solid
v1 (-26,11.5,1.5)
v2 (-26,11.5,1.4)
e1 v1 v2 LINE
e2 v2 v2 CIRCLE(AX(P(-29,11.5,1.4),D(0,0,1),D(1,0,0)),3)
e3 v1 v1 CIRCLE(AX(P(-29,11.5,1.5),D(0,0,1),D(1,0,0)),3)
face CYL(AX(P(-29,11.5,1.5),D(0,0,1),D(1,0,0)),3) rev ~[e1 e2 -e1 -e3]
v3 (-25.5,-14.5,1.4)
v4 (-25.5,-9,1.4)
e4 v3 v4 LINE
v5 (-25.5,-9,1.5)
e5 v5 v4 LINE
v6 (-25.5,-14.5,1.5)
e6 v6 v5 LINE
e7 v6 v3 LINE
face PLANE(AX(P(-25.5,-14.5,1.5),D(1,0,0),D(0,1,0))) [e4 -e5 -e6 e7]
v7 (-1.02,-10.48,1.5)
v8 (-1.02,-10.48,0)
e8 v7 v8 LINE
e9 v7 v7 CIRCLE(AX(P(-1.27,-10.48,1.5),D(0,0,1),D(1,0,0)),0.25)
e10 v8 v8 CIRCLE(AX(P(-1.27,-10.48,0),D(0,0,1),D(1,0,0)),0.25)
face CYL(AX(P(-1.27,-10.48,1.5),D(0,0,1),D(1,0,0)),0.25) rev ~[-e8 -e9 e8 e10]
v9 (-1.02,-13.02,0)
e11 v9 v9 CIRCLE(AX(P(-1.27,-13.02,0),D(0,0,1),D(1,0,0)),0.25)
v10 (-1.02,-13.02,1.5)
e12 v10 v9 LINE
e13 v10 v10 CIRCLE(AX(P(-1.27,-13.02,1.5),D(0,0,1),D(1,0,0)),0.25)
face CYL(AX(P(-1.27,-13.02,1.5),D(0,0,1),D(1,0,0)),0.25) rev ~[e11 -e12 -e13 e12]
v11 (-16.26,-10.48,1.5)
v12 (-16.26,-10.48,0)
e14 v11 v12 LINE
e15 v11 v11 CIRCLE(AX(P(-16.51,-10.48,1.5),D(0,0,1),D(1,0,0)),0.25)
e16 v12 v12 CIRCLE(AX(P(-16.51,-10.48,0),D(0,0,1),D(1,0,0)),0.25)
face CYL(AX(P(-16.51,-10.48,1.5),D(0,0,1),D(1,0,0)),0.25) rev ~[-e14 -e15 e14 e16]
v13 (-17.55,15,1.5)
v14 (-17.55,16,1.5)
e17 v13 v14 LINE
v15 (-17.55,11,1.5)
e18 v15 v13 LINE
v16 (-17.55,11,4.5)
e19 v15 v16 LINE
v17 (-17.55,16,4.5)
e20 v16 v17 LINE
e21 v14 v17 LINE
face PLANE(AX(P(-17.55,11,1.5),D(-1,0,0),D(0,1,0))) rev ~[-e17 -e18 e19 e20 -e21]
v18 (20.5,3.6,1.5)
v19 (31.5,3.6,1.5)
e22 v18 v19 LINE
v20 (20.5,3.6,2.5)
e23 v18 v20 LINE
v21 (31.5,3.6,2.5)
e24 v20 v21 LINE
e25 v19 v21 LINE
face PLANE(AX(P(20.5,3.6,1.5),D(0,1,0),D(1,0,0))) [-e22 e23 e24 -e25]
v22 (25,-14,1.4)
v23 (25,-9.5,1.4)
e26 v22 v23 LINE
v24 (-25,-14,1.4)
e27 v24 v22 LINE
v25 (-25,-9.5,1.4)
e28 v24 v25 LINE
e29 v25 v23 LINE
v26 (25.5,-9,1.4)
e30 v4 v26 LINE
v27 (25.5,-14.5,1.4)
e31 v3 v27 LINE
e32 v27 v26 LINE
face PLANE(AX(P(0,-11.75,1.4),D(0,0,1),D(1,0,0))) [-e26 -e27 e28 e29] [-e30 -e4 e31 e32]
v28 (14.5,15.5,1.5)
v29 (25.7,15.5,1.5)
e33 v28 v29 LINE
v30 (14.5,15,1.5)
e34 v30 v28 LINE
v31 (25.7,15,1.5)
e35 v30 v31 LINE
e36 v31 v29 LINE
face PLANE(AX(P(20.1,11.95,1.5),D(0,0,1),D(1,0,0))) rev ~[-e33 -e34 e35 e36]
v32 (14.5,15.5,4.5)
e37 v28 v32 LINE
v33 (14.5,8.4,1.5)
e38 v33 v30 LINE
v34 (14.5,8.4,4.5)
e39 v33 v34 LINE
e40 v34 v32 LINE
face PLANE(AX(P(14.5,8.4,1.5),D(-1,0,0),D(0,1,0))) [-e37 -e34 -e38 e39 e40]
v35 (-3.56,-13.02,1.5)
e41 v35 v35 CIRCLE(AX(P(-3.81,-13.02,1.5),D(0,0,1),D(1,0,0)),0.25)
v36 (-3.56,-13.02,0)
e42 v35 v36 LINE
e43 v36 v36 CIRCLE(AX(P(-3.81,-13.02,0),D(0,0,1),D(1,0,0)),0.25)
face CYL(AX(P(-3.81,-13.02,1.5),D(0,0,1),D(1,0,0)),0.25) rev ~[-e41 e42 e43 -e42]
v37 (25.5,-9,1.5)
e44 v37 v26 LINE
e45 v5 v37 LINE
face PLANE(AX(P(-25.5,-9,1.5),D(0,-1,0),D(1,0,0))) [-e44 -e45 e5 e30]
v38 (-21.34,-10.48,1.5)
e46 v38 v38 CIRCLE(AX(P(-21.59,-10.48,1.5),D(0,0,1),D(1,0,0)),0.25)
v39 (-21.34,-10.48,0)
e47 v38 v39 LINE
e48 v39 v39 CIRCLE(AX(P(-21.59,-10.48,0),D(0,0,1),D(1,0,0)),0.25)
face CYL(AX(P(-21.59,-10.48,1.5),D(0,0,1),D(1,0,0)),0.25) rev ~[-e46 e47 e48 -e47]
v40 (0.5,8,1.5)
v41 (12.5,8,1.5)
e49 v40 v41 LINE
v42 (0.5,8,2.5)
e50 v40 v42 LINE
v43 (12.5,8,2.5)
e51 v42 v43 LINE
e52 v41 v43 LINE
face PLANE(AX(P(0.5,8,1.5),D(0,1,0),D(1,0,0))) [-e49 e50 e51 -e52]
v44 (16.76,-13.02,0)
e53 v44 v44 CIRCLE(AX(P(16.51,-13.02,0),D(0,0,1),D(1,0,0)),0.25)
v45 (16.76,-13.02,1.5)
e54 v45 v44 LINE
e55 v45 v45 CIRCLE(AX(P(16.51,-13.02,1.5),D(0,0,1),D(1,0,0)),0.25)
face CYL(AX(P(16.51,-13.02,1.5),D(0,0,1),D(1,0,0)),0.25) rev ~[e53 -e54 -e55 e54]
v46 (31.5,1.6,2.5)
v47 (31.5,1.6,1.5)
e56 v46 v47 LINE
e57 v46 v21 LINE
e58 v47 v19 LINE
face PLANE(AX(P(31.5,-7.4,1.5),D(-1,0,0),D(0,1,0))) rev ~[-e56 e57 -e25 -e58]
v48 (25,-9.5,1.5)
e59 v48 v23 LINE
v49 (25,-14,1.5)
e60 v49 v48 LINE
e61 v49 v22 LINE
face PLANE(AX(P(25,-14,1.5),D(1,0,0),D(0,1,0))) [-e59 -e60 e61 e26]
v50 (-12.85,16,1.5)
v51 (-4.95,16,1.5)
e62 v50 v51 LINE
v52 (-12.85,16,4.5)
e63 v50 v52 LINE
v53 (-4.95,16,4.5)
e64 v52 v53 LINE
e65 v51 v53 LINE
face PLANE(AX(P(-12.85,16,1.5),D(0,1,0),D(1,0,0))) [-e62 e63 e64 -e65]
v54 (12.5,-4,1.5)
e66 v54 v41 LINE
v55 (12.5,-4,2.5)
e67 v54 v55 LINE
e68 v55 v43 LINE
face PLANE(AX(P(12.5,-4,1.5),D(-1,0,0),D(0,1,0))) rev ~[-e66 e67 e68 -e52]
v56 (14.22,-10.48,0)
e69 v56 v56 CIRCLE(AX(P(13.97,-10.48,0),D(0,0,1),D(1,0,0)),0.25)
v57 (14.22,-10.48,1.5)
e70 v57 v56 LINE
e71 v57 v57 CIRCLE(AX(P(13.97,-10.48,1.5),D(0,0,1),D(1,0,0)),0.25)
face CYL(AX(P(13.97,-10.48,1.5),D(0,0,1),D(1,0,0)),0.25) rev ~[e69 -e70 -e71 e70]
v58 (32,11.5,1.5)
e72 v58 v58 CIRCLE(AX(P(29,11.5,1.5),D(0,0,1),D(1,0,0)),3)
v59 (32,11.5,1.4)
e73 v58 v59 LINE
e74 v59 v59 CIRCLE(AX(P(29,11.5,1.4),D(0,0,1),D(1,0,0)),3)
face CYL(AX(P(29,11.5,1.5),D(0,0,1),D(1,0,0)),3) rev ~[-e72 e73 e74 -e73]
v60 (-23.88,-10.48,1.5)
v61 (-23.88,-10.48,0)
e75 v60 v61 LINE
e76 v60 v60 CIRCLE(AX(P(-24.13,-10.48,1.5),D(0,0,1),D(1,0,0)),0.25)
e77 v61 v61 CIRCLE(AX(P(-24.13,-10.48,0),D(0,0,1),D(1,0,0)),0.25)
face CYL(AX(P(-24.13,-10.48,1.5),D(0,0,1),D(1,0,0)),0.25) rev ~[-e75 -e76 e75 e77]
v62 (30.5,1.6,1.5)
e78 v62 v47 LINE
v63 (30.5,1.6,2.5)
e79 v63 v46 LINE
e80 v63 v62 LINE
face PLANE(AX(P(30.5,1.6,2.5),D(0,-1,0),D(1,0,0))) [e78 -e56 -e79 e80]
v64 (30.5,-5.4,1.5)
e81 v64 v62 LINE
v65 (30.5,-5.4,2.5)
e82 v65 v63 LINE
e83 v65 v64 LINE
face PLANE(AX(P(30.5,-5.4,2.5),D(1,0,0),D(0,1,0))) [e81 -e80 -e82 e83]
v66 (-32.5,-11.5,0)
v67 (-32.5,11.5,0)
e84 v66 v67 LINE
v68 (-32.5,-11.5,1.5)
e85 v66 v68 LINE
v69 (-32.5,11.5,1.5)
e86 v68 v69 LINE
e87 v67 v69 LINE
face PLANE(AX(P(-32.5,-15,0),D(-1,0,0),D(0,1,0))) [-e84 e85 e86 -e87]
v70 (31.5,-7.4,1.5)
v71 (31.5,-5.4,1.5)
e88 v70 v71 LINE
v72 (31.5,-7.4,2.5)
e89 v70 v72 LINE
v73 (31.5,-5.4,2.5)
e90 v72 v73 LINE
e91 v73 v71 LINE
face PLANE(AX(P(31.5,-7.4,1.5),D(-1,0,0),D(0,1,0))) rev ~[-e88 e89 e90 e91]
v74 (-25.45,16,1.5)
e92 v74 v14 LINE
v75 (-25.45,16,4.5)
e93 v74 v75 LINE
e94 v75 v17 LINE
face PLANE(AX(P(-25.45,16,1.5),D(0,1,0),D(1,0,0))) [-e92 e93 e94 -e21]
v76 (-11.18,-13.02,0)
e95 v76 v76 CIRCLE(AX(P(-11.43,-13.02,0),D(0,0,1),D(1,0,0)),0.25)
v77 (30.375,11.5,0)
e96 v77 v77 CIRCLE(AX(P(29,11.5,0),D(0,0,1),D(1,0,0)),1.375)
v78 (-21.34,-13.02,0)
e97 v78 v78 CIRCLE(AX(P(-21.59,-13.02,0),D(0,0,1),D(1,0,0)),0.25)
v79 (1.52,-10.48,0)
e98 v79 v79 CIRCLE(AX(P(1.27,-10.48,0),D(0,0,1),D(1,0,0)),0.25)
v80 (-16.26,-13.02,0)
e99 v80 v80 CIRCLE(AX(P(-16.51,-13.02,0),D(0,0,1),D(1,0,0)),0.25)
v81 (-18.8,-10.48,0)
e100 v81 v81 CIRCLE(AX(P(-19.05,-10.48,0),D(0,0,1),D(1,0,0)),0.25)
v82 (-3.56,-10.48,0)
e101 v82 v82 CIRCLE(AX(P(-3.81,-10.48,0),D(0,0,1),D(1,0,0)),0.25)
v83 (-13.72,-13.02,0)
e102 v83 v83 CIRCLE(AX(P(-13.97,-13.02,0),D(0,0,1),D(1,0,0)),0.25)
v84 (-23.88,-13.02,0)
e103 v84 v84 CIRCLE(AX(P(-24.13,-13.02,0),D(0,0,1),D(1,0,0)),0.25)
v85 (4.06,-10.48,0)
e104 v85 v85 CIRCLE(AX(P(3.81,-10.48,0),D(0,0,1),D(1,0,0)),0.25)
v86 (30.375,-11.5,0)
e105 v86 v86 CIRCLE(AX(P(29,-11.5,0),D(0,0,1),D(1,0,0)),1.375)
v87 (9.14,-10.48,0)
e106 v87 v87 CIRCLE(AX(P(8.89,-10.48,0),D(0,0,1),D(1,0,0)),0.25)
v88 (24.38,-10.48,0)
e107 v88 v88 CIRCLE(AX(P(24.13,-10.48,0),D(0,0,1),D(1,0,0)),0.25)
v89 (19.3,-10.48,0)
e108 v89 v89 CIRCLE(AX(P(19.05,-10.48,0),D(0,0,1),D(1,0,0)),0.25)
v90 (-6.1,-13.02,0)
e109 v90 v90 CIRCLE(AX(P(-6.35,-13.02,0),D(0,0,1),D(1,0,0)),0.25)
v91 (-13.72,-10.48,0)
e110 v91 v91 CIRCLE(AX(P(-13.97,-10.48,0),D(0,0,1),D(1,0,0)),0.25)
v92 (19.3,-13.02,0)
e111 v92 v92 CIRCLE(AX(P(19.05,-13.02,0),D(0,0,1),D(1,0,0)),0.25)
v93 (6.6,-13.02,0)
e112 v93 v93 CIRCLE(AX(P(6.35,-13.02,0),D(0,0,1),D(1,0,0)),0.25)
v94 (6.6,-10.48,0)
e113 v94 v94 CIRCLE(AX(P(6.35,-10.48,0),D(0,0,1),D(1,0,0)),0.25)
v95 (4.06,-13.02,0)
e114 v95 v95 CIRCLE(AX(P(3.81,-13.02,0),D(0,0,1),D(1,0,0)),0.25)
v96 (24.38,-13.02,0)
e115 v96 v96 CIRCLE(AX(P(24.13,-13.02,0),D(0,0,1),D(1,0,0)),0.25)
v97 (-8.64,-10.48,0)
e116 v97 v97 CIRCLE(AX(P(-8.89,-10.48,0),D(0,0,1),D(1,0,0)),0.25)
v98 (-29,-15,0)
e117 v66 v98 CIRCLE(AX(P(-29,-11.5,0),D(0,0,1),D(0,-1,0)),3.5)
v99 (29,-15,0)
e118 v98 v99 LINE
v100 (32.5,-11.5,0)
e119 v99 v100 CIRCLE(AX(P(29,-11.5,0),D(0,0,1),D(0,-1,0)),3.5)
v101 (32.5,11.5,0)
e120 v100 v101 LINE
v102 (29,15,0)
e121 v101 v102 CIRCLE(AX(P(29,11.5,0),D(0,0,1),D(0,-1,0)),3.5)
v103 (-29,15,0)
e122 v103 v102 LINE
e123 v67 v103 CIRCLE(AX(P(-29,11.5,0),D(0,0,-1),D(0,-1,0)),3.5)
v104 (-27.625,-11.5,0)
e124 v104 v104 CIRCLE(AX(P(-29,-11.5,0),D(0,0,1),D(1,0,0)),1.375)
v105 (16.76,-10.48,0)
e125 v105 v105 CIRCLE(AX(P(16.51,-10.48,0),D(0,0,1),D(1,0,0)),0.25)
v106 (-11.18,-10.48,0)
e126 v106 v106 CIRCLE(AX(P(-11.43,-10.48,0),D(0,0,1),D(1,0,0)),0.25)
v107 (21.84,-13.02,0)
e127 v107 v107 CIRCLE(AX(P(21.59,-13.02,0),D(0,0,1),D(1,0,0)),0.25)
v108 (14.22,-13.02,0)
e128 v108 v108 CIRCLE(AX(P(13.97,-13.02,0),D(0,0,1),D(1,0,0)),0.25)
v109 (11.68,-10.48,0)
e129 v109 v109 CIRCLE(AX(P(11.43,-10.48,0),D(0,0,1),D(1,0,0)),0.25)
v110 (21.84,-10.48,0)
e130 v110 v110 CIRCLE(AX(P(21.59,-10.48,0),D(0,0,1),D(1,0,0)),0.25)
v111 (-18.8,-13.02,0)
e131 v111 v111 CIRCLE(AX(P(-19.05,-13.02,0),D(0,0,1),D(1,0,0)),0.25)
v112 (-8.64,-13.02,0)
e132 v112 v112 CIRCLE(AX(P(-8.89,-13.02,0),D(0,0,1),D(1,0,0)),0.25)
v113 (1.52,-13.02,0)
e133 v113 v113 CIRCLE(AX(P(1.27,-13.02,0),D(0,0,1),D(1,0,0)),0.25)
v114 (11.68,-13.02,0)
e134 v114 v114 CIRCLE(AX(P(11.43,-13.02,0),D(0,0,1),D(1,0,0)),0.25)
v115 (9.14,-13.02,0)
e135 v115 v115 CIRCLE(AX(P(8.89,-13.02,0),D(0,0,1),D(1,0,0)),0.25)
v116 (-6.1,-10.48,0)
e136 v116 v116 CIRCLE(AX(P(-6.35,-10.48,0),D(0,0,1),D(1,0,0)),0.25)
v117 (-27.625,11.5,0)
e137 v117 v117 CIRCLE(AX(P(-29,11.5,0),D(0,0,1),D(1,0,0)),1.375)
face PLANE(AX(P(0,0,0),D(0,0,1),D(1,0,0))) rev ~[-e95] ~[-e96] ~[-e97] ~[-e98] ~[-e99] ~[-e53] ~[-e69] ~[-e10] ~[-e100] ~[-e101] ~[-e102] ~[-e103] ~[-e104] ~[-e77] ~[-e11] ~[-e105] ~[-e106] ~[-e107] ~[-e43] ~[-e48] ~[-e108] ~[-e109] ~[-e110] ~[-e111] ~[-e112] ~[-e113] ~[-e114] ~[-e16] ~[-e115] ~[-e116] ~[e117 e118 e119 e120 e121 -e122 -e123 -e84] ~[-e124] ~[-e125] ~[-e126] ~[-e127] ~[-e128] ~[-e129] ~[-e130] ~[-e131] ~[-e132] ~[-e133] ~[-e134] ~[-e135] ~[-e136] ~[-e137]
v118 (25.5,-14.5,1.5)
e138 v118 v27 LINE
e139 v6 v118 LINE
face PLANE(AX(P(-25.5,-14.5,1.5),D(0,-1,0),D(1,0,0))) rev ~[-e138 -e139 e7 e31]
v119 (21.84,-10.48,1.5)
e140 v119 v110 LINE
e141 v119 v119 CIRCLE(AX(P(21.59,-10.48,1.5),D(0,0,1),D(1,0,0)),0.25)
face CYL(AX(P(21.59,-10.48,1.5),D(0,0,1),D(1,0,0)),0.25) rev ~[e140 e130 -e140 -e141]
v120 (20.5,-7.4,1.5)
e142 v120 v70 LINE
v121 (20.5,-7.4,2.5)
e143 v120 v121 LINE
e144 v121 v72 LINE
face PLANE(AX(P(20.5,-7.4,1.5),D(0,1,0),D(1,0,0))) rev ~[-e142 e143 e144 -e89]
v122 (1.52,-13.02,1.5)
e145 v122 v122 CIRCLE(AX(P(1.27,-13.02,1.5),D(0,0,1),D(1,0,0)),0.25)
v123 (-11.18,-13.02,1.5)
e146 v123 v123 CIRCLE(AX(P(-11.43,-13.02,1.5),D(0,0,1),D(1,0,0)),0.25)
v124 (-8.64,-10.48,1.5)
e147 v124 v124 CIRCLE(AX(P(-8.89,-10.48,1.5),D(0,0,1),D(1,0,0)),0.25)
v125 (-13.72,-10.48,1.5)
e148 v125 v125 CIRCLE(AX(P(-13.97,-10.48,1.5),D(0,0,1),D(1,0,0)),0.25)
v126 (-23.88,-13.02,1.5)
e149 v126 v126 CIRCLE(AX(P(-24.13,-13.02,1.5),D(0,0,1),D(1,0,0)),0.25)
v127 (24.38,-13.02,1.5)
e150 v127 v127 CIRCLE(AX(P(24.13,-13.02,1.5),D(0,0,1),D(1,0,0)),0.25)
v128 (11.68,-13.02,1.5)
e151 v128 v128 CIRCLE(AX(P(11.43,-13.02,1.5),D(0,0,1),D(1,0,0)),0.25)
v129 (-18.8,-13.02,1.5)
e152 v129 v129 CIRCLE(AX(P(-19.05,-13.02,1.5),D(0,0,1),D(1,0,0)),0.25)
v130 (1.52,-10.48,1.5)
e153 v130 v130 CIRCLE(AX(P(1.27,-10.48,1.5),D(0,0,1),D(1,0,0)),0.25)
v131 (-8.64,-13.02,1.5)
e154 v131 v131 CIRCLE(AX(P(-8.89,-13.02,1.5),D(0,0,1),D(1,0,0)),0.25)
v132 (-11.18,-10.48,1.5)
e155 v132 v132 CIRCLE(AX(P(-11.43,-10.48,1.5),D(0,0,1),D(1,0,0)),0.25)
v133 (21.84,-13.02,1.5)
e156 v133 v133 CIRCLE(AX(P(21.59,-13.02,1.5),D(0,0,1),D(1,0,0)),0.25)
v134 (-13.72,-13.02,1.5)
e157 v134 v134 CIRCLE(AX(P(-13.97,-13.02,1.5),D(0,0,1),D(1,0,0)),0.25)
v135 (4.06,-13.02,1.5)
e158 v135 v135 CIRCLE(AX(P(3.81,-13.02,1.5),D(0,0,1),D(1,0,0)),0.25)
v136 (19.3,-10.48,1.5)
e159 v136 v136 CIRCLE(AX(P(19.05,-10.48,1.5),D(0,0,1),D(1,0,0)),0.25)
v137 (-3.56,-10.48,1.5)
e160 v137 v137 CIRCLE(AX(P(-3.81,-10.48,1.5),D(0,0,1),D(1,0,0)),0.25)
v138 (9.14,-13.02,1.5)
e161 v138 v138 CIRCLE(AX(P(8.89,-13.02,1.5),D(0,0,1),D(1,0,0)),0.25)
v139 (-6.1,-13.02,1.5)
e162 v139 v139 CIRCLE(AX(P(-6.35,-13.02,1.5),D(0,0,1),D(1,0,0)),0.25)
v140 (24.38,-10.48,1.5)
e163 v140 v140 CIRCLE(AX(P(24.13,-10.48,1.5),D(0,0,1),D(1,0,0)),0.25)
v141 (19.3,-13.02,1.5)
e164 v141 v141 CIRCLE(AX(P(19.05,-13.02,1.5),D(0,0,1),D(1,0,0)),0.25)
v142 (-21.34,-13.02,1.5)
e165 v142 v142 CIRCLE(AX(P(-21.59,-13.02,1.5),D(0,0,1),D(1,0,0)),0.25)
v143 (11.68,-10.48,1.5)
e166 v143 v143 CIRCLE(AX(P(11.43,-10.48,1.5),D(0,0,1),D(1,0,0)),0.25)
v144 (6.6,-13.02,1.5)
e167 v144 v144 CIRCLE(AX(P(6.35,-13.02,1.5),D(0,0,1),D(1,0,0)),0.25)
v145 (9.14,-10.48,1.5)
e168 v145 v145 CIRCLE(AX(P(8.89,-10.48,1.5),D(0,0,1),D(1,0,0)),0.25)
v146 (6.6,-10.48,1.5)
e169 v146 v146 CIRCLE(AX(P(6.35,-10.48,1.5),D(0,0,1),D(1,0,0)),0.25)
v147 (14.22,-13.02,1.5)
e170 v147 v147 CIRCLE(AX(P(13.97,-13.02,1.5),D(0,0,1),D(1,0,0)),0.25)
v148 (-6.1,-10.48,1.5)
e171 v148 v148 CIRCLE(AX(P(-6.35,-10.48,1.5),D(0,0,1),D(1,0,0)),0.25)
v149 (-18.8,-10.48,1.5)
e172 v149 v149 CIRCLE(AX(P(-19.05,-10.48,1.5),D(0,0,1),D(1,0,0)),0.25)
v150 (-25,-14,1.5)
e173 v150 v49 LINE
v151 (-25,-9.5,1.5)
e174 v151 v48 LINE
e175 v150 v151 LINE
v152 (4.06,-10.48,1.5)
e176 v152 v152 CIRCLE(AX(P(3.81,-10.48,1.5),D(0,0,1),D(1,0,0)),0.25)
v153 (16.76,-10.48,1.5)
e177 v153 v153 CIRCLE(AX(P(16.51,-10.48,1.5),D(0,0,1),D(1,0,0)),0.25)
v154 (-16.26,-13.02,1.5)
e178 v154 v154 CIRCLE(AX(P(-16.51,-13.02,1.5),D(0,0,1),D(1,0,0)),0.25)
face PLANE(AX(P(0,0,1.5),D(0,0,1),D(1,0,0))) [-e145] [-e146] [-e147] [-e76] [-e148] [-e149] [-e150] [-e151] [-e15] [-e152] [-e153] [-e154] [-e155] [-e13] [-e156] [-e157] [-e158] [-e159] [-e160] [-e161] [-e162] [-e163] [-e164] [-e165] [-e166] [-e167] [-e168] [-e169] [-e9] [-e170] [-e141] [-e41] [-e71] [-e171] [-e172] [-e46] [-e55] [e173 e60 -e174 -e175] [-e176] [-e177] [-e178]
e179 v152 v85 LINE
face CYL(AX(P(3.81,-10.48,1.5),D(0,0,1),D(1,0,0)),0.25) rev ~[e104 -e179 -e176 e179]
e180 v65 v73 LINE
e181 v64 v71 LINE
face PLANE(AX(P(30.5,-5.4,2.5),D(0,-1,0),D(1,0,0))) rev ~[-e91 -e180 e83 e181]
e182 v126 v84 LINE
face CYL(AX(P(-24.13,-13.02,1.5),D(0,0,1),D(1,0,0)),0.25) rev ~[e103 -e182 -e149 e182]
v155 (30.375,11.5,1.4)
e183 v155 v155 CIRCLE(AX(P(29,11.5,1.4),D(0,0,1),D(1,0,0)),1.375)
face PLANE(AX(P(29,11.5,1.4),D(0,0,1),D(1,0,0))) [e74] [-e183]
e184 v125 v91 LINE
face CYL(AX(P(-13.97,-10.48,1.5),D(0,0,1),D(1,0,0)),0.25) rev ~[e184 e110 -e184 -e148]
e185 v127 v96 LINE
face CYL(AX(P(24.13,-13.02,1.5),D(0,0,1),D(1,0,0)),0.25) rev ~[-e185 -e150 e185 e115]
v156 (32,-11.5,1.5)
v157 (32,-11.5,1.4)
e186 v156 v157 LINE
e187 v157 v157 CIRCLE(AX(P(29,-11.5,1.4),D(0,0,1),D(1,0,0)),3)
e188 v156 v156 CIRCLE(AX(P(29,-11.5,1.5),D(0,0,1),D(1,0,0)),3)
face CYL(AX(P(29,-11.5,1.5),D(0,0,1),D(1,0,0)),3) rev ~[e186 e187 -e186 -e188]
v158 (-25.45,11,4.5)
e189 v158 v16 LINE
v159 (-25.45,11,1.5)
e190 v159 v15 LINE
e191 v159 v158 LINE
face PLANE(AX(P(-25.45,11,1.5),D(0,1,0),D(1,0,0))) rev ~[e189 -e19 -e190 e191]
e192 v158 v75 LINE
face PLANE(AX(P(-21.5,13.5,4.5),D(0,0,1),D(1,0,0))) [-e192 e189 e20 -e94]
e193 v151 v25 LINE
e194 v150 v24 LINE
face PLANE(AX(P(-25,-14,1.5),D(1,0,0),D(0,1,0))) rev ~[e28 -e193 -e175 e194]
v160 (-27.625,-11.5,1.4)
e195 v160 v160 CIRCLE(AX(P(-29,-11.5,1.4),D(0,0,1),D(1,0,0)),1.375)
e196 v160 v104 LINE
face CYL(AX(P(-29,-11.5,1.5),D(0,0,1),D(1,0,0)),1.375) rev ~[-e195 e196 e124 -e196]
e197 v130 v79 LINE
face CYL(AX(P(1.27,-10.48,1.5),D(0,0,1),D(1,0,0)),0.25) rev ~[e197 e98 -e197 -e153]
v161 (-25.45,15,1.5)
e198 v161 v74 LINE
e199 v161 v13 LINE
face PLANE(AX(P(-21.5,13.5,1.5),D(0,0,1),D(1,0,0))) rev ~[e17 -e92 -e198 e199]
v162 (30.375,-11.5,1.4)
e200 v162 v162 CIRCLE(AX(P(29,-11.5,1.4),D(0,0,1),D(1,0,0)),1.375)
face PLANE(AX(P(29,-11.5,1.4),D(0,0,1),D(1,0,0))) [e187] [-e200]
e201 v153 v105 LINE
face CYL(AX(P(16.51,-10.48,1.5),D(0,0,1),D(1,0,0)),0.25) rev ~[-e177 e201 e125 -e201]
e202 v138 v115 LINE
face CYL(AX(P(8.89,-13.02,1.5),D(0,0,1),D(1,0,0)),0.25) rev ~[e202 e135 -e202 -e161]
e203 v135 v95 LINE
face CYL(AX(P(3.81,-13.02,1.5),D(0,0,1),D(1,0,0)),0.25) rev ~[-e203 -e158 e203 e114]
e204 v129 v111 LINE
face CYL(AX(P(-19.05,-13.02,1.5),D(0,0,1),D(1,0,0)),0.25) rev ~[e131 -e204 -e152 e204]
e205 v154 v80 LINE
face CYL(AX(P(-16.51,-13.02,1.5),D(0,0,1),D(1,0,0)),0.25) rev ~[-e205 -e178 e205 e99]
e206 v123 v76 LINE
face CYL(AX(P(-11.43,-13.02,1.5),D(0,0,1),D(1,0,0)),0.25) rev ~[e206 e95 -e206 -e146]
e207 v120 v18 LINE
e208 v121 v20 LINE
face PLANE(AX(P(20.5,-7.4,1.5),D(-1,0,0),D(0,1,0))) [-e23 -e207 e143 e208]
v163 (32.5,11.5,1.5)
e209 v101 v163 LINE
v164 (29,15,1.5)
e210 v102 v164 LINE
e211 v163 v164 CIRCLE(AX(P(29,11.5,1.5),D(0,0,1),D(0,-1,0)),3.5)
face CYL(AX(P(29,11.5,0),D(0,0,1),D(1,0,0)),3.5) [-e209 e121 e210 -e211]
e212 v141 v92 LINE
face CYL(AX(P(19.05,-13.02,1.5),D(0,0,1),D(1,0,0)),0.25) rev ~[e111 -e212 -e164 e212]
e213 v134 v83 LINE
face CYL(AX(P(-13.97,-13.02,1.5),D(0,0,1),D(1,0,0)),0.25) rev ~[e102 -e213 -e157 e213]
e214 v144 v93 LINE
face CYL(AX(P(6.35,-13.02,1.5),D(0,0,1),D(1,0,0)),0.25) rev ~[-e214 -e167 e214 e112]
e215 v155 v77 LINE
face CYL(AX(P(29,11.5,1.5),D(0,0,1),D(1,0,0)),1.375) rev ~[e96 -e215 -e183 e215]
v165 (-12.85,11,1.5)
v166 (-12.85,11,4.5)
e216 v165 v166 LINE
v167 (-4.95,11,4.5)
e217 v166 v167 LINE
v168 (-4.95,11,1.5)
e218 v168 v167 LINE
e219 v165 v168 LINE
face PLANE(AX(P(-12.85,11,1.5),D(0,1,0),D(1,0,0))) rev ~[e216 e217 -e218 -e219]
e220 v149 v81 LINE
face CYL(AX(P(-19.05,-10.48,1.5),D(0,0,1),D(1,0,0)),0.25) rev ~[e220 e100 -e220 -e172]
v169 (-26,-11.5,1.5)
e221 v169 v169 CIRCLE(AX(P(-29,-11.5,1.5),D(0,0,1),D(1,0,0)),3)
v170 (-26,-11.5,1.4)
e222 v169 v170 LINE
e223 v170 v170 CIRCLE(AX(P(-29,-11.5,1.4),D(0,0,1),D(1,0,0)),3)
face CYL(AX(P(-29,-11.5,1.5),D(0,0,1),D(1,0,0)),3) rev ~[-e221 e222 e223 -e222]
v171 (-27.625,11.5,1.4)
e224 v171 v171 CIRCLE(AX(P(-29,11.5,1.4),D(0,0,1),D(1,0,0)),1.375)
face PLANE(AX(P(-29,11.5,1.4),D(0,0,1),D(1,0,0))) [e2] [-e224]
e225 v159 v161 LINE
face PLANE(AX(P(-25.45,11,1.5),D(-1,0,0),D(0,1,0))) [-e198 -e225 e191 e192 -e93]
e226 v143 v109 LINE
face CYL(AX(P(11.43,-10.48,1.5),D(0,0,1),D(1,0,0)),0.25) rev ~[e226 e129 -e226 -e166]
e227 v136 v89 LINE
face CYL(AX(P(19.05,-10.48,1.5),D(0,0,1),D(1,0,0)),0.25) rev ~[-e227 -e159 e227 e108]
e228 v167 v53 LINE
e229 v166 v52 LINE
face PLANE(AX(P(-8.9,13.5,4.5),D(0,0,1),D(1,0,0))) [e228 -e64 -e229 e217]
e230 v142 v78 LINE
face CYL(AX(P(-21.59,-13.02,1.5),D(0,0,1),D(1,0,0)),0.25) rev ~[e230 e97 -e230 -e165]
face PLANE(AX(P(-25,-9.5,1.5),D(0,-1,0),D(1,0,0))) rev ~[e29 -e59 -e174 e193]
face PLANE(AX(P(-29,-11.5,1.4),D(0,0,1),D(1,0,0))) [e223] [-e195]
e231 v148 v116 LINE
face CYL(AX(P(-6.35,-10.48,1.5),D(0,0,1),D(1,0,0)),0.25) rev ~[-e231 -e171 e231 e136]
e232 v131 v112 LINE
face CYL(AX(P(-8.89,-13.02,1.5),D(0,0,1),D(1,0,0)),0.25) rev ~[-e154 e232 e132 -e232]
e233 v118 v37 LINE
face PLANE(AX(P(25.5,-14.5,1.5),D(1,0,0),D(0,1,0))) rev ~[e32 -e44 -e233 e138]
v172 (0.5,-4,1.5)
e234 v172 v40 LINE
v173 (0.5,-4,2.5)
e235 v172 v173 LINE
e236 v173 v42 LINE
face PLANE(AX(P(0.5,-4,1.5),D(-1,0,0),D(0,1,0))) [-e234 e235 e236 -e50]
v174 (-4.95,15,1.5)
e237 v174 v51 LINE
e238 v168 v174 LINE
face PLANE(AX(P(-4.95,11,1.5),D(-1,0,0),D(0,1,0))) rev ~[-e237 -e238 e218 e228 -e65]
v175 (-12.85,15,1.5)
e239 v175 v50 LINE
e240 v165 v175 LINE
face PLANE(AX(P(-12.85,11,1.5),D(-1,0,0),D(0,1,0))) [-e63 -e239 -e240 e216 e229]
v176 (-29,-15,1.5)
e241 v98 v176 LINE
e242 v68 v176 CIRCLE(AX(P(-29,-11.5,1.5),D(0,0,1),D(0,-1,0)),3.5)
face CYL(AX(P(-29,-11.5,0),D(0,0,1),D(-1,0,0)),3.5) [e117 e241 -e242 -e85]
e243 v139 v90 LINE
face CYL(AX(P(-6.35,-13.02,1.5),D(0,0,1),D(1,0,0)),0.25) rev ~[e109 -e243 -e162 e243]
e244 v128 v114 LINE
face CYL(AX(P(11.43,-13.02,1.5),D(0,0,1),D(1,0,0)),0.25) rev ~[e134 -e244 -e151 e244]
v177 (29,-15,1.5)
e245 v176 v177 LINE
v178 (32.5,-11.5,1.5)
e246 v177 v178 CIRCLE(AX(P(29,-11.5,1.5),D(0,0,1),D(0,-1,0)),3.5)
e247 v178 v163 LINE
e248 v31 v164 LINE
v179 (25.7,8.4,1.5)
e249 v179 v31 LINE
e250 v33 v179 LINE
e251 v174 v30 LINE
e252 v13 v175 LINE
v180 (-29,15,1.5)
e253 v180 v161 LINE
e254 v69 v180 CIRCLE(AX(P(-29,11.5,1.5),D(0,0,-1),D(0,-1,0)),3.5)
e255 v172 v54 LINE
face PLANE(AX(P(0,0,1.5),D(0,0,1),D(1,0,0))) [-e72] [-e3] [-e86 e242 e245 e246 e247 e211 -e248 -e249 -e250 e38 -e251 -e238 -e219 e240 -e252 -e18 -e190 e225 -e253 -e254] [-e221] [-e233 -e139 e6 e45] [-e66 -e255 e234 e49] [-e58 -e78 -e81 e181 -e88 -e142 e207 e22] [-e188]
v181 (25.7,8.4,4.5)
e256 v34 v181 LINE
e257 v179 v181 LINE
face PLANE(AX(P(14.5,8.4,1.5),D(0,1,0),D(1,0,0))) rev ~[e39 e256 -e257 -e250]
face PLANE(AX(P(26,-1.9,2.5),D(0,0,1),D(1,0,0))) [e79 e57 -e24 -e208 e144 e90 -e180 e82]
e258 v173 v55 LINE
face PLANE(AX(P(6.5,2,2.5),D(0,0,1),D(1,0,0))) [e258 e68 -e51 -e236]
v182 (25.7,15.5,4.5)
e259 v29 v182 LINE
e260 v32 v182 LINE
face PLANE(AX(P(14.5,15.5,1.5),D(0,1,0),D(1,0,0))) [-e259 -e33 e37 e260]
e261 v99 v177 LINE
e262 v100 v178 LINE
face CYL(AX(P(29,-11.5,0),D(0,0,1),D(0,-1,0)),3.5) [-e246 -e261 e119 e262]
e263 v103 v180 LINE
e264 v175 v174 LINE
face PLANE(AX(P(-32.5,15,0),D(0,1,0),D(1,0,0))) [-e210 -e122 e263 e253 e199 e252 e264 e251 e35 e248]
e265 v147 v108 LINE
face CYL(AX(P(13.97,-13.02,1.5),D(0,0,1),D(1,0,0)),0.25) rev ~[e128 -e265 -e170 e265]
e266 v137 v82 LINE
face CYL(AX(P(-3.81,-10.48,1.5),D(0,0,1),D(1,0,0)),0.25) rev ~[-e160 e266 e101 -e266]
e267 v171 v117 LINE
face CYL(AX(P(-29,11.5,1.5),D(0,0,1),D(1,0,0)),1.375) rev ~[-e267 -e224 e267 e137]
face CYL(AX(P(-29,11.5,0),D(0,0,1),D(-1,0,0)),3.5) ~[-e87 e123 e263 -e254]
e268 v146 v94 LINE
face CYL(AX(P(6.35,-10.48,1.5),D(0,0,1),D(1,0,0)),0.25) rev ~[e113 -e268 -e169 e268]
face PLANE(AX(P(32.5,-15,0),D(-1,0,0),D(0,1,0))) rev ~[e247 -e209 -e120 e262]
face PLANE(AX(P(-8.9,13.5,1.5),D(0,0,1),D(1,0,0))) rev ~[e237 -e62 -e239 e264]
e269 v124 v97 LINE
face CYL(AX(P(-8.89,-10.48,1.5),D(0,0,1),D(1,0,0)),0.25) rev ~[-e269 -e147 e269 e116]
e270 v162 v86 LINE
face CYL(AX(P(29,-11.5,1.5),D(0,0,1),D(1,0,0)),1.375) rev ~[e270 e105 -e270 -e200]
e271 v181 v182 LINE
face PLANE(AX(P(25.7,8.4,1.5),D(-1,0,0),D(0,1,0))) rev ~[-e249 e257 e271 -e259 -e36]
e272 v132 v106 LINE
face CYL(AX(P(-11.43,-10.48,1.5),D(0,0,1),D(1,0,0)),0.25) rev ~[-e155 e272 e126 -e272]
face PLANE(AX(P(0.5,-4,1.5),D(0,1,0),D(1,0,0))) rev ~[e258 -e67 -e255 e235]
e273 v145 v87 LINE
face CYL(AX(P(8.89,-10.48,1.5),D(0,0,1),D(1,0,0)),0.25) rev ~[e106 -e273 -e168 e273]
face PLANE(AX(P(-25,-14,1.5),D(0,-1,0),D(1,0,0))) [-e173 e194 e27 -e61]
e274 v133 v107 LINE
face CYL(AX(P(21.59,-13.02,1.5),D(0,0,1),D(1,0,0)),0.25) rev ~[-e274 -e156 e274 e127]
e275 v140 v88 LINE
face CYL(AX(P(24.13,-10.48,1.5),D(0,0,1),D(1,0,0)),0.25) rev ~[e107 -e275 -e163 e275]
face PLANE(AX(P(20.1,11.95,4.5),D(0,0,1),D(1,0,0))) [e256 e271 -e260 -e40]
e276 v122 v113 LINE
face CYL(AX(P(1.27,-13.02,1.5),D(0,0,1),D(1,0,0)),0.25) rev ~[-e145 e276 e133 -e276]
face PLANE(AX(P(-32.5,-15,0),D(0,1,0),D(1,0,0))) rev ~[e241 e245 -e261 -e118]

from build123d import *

# Parameters (mm, degrees)
SKETCH_1_W             = 65
SKETCH_1_H             = 30
EXTRUDE_1_DEPTH        = 1.5
FILLET_1_R             = 3.5
SKETCH_2_R             = 1.375
CUT_EXTRUDE_1_DEPTH    = 1.5
SKETCH_3_R             = 3
CUT_EXTRUDE_2_DEPTH    = 0.1
CUT_EXTRUDE_3_REACH    = 37.826
SKETCH_5_R             = 0.25
PATTERN_LINEAR_1_COUNT = 20
PATTERN_LINEAR_1_PITCH = 2.54
SKETCH_6_W             = 11.2
SKETCH_6_H             = 7.1
SKETCH_6_W_2           = 7.9
SKETCH_6_H_2           = 5
EXTRUDE_3_DEPTH        = 3
SKETCH_7_W             = 12
SKETCH_7_H             = 12
EXTRUDE_4_DEPTH        = 1
SKETCH_8_W             = 11
SKETCH_8_H             = 11
EXTRUDE_5_DEPTH        = 1
SKETCH_9_W             = 1
SKETCH_9_H             = 7
CUT_EXTRUDE_4_DEPTH    = 1
SKETCH_4_W             = 51
SKETCH_4_H             = 5.5
SKETCH_4_W_2           = 50
SKETCH_4_H_2           = 4.5
CUT_EXTRUDE_5_DEPTH    = 0.1


with BuildPart() as part:
    # ｽｹｯﾁ1 → ﾎﾞｽ - 押し出し1 (new body)
    with BuildSketch(Plane.XY):
        Rectangle(SKETCH_1_W, SKETCH_1_H)
    extrude(amount=EXTRUDE_1_DEPTH)

    # ﾌｨﾚｯﾄ1
    fillet_1_edges = [part.edges().sort_by_distance(p)[0] for p in [
        (-32.5, 15, 0.75),
        (32.5, 15, 0.75),
        (32.5, -15, 0.75),
        (-32.5, -15, 0.75),
    ]]
    fillet(fillet_1_edges, radius=FILLET_1_R)

    # ｽｹｯﾁ2 → ｶｯﾄ - 押し出し1 (cut)
    with BuildSketch(Plane.XY.offset(1.5)):
        with Locations((29, -11.5)):
            Circle(SKETCH_2_R)
        with Locations((29, 11.5)):
            Circle(SKETCH_2_R)
        with Locations((-29, -11.5)):
            Circle(SKETCH_2_R)
        with Locations((-29, 11.5)):
            Circle(SKETCH_2_R)
    extrude(amount=-CUT_EXTRUDE_1_DEPTH, mode=Mode.SUBTRACT)

    # ｽｹｯﾁ3 → ｶｯﾄ - 押し出し2 (cut)
    with BuildSketch(Plane.XY.offset(1.5)):
        with Locations((29, -11.5)):
            Circle(SKETCH_3_R)
        with Locations((29, 11.5)):
            Circle(SKETCH_3_R)
        with Locations((-29, -11.5)):
            Circle(SKETCH_3_R)
        with Locations((-29, 11.5)):
            Circle(SKETCH_3_R)
    extrude(amount=-CUT_EXTRUDE_2_DEPTH, mode=Mode.SUBTRACT)

    # ｽｹｯﾁ5 → ｶｯﾄ - 押し出し3 (cut, up to next)
    with BuildSketch(Plane.XY.offset(1.5), mode=Mode.PRIVATE) as cut_extrude_3_sk1:
        with Locations((24.13, -13.02)):
            Circle(SKETCH_5_R)
    cut_extrude_3_tool1 = extrude(cut_extrude_3_sk1.sketch, amount=-CUT_EXTRUDE_3_REACH, mode=Mode.PRIVATE) & part.part
    # ｽｹｯﾁ5 → ｶｯﾄ - 押し出し3 (cut, up to next)
    with BuildSketch(Plane.XY.offset(1.5), mode=Mode.PRIVATE) as cut_extrude_3_sk2:
        with Locations((24.13, -10.48)):
            Circle(SKETCH_5_R)
    cut_extrude_3_tool2 = extrude(cut_extrude_3_sk2.sketch, amount=-CUT_EXTRUDE_3_REACH, mode=Mode.PRIVATE) & part.part
    cut_extrude_3_1 = cut_extrude_3_tool1.solids().sort_by_distance((24.13, -13.02, 1.5))[0]
    add(cut_extrude_3_1, mode=Mode.SUBTRACT)
    cut_extrude_3_2 = cut_extrude_3_tool2.solids().sort_by_distance((24.13, -10.48, 1.5))[0]
    add(cut_extrude_3_2, mode=Mode.SUBTRACT)
    cut_extrude_3 = cut_extrude_3_1 + cut_extrude_3_2  # ｶｯﾄ - 押し出し3 as one shape, for the pattern or mirror that repeats it

    # 直線ﾊﾟﾀｰﾝ1: ｶｯﾄ - 押し出し3 ×20
    with Locations(*[(-i * PATTERN_LINEAR_1_PITCH, 0, 0) for i in range(1, PATTERN_LINEAR_1_COUNT)]):
        add(cut_extrude_3, mode=Mode.SUBTRACT)

    # ｽｹｯﾁ6 → ﾎﾞｽ - 押し出し3 (add)
    with BuildSketch(Plane.XY.offset(1.5)):
        with Locations((20.1, 11.95)):
            Rectangle(SKETCH_6_W, SKETCH_6_H)
        with Locations((-8.9, 13.5)):
            Rectangle(SKETCH_6_W_2, SKETCH_6_H_2)
        with Locations((-21.5, 13.5)):
            Rectangle(SKETCH_6_W_2, SKETCH_6_H_2)
    extrude(amount=EXTRUDE_3_DEPTH)

    # ｽｹｯﾁ7 → ﾎﾞｽ - 押し出し4 (add)
    with BuildSketch(Plane.XY.offset(1.5)):
        with Locations((6.5, 2)):
            Rectangle(SKETCH_7_W, SKETCH_7_H)
    extrude(amount=EXTRUDE_4_DEPTH)

    # ｽｹｯﾁ8 → ﾎﾞｽ - 押し出し5 (add)
    with BuildSketch(Plane.XY.offset(1.5)):
        with Locations((26, -1.9)):
            Rectangle(SKETCH_8_W, SKETCH_8_H)
    extrude(amount=EXTRUDE_5_DEPTH)

    # ｽｹｯﾁ9 → ｶｯﾄ - 押し出し4 (cut)
    with BuildSketch(Plane.XY.offset(2.5)):
        with Locations((31, -1.9)):
            Rectangle(SKETCH_9_W, SKETCH_9_H)
    extrude(amount=-CUT_EXTRUDE_4_DEPTH, mode=Mode.SUBTRACT)

    # ｽｹｯﾁ4 → ｶｯﾄ - 押し出し5 (cut)
    with BuildSketch(Plane.XY.offset(1.5)):
        with Locations((0, -11.75)):
            Rectangle(SKETCH_4_W, SKETCH_4_H)
        with Locations((0, -11.75)):
            Rectangle(SKETCH_4_W_2, SKETCH_4_H_2, mode=Mode.SUBTRACT)
    extrude(amount=-CUT_EXTRUDE_5_DEPTH, mode=Mode.SUBTRACT)


solid = part.part
